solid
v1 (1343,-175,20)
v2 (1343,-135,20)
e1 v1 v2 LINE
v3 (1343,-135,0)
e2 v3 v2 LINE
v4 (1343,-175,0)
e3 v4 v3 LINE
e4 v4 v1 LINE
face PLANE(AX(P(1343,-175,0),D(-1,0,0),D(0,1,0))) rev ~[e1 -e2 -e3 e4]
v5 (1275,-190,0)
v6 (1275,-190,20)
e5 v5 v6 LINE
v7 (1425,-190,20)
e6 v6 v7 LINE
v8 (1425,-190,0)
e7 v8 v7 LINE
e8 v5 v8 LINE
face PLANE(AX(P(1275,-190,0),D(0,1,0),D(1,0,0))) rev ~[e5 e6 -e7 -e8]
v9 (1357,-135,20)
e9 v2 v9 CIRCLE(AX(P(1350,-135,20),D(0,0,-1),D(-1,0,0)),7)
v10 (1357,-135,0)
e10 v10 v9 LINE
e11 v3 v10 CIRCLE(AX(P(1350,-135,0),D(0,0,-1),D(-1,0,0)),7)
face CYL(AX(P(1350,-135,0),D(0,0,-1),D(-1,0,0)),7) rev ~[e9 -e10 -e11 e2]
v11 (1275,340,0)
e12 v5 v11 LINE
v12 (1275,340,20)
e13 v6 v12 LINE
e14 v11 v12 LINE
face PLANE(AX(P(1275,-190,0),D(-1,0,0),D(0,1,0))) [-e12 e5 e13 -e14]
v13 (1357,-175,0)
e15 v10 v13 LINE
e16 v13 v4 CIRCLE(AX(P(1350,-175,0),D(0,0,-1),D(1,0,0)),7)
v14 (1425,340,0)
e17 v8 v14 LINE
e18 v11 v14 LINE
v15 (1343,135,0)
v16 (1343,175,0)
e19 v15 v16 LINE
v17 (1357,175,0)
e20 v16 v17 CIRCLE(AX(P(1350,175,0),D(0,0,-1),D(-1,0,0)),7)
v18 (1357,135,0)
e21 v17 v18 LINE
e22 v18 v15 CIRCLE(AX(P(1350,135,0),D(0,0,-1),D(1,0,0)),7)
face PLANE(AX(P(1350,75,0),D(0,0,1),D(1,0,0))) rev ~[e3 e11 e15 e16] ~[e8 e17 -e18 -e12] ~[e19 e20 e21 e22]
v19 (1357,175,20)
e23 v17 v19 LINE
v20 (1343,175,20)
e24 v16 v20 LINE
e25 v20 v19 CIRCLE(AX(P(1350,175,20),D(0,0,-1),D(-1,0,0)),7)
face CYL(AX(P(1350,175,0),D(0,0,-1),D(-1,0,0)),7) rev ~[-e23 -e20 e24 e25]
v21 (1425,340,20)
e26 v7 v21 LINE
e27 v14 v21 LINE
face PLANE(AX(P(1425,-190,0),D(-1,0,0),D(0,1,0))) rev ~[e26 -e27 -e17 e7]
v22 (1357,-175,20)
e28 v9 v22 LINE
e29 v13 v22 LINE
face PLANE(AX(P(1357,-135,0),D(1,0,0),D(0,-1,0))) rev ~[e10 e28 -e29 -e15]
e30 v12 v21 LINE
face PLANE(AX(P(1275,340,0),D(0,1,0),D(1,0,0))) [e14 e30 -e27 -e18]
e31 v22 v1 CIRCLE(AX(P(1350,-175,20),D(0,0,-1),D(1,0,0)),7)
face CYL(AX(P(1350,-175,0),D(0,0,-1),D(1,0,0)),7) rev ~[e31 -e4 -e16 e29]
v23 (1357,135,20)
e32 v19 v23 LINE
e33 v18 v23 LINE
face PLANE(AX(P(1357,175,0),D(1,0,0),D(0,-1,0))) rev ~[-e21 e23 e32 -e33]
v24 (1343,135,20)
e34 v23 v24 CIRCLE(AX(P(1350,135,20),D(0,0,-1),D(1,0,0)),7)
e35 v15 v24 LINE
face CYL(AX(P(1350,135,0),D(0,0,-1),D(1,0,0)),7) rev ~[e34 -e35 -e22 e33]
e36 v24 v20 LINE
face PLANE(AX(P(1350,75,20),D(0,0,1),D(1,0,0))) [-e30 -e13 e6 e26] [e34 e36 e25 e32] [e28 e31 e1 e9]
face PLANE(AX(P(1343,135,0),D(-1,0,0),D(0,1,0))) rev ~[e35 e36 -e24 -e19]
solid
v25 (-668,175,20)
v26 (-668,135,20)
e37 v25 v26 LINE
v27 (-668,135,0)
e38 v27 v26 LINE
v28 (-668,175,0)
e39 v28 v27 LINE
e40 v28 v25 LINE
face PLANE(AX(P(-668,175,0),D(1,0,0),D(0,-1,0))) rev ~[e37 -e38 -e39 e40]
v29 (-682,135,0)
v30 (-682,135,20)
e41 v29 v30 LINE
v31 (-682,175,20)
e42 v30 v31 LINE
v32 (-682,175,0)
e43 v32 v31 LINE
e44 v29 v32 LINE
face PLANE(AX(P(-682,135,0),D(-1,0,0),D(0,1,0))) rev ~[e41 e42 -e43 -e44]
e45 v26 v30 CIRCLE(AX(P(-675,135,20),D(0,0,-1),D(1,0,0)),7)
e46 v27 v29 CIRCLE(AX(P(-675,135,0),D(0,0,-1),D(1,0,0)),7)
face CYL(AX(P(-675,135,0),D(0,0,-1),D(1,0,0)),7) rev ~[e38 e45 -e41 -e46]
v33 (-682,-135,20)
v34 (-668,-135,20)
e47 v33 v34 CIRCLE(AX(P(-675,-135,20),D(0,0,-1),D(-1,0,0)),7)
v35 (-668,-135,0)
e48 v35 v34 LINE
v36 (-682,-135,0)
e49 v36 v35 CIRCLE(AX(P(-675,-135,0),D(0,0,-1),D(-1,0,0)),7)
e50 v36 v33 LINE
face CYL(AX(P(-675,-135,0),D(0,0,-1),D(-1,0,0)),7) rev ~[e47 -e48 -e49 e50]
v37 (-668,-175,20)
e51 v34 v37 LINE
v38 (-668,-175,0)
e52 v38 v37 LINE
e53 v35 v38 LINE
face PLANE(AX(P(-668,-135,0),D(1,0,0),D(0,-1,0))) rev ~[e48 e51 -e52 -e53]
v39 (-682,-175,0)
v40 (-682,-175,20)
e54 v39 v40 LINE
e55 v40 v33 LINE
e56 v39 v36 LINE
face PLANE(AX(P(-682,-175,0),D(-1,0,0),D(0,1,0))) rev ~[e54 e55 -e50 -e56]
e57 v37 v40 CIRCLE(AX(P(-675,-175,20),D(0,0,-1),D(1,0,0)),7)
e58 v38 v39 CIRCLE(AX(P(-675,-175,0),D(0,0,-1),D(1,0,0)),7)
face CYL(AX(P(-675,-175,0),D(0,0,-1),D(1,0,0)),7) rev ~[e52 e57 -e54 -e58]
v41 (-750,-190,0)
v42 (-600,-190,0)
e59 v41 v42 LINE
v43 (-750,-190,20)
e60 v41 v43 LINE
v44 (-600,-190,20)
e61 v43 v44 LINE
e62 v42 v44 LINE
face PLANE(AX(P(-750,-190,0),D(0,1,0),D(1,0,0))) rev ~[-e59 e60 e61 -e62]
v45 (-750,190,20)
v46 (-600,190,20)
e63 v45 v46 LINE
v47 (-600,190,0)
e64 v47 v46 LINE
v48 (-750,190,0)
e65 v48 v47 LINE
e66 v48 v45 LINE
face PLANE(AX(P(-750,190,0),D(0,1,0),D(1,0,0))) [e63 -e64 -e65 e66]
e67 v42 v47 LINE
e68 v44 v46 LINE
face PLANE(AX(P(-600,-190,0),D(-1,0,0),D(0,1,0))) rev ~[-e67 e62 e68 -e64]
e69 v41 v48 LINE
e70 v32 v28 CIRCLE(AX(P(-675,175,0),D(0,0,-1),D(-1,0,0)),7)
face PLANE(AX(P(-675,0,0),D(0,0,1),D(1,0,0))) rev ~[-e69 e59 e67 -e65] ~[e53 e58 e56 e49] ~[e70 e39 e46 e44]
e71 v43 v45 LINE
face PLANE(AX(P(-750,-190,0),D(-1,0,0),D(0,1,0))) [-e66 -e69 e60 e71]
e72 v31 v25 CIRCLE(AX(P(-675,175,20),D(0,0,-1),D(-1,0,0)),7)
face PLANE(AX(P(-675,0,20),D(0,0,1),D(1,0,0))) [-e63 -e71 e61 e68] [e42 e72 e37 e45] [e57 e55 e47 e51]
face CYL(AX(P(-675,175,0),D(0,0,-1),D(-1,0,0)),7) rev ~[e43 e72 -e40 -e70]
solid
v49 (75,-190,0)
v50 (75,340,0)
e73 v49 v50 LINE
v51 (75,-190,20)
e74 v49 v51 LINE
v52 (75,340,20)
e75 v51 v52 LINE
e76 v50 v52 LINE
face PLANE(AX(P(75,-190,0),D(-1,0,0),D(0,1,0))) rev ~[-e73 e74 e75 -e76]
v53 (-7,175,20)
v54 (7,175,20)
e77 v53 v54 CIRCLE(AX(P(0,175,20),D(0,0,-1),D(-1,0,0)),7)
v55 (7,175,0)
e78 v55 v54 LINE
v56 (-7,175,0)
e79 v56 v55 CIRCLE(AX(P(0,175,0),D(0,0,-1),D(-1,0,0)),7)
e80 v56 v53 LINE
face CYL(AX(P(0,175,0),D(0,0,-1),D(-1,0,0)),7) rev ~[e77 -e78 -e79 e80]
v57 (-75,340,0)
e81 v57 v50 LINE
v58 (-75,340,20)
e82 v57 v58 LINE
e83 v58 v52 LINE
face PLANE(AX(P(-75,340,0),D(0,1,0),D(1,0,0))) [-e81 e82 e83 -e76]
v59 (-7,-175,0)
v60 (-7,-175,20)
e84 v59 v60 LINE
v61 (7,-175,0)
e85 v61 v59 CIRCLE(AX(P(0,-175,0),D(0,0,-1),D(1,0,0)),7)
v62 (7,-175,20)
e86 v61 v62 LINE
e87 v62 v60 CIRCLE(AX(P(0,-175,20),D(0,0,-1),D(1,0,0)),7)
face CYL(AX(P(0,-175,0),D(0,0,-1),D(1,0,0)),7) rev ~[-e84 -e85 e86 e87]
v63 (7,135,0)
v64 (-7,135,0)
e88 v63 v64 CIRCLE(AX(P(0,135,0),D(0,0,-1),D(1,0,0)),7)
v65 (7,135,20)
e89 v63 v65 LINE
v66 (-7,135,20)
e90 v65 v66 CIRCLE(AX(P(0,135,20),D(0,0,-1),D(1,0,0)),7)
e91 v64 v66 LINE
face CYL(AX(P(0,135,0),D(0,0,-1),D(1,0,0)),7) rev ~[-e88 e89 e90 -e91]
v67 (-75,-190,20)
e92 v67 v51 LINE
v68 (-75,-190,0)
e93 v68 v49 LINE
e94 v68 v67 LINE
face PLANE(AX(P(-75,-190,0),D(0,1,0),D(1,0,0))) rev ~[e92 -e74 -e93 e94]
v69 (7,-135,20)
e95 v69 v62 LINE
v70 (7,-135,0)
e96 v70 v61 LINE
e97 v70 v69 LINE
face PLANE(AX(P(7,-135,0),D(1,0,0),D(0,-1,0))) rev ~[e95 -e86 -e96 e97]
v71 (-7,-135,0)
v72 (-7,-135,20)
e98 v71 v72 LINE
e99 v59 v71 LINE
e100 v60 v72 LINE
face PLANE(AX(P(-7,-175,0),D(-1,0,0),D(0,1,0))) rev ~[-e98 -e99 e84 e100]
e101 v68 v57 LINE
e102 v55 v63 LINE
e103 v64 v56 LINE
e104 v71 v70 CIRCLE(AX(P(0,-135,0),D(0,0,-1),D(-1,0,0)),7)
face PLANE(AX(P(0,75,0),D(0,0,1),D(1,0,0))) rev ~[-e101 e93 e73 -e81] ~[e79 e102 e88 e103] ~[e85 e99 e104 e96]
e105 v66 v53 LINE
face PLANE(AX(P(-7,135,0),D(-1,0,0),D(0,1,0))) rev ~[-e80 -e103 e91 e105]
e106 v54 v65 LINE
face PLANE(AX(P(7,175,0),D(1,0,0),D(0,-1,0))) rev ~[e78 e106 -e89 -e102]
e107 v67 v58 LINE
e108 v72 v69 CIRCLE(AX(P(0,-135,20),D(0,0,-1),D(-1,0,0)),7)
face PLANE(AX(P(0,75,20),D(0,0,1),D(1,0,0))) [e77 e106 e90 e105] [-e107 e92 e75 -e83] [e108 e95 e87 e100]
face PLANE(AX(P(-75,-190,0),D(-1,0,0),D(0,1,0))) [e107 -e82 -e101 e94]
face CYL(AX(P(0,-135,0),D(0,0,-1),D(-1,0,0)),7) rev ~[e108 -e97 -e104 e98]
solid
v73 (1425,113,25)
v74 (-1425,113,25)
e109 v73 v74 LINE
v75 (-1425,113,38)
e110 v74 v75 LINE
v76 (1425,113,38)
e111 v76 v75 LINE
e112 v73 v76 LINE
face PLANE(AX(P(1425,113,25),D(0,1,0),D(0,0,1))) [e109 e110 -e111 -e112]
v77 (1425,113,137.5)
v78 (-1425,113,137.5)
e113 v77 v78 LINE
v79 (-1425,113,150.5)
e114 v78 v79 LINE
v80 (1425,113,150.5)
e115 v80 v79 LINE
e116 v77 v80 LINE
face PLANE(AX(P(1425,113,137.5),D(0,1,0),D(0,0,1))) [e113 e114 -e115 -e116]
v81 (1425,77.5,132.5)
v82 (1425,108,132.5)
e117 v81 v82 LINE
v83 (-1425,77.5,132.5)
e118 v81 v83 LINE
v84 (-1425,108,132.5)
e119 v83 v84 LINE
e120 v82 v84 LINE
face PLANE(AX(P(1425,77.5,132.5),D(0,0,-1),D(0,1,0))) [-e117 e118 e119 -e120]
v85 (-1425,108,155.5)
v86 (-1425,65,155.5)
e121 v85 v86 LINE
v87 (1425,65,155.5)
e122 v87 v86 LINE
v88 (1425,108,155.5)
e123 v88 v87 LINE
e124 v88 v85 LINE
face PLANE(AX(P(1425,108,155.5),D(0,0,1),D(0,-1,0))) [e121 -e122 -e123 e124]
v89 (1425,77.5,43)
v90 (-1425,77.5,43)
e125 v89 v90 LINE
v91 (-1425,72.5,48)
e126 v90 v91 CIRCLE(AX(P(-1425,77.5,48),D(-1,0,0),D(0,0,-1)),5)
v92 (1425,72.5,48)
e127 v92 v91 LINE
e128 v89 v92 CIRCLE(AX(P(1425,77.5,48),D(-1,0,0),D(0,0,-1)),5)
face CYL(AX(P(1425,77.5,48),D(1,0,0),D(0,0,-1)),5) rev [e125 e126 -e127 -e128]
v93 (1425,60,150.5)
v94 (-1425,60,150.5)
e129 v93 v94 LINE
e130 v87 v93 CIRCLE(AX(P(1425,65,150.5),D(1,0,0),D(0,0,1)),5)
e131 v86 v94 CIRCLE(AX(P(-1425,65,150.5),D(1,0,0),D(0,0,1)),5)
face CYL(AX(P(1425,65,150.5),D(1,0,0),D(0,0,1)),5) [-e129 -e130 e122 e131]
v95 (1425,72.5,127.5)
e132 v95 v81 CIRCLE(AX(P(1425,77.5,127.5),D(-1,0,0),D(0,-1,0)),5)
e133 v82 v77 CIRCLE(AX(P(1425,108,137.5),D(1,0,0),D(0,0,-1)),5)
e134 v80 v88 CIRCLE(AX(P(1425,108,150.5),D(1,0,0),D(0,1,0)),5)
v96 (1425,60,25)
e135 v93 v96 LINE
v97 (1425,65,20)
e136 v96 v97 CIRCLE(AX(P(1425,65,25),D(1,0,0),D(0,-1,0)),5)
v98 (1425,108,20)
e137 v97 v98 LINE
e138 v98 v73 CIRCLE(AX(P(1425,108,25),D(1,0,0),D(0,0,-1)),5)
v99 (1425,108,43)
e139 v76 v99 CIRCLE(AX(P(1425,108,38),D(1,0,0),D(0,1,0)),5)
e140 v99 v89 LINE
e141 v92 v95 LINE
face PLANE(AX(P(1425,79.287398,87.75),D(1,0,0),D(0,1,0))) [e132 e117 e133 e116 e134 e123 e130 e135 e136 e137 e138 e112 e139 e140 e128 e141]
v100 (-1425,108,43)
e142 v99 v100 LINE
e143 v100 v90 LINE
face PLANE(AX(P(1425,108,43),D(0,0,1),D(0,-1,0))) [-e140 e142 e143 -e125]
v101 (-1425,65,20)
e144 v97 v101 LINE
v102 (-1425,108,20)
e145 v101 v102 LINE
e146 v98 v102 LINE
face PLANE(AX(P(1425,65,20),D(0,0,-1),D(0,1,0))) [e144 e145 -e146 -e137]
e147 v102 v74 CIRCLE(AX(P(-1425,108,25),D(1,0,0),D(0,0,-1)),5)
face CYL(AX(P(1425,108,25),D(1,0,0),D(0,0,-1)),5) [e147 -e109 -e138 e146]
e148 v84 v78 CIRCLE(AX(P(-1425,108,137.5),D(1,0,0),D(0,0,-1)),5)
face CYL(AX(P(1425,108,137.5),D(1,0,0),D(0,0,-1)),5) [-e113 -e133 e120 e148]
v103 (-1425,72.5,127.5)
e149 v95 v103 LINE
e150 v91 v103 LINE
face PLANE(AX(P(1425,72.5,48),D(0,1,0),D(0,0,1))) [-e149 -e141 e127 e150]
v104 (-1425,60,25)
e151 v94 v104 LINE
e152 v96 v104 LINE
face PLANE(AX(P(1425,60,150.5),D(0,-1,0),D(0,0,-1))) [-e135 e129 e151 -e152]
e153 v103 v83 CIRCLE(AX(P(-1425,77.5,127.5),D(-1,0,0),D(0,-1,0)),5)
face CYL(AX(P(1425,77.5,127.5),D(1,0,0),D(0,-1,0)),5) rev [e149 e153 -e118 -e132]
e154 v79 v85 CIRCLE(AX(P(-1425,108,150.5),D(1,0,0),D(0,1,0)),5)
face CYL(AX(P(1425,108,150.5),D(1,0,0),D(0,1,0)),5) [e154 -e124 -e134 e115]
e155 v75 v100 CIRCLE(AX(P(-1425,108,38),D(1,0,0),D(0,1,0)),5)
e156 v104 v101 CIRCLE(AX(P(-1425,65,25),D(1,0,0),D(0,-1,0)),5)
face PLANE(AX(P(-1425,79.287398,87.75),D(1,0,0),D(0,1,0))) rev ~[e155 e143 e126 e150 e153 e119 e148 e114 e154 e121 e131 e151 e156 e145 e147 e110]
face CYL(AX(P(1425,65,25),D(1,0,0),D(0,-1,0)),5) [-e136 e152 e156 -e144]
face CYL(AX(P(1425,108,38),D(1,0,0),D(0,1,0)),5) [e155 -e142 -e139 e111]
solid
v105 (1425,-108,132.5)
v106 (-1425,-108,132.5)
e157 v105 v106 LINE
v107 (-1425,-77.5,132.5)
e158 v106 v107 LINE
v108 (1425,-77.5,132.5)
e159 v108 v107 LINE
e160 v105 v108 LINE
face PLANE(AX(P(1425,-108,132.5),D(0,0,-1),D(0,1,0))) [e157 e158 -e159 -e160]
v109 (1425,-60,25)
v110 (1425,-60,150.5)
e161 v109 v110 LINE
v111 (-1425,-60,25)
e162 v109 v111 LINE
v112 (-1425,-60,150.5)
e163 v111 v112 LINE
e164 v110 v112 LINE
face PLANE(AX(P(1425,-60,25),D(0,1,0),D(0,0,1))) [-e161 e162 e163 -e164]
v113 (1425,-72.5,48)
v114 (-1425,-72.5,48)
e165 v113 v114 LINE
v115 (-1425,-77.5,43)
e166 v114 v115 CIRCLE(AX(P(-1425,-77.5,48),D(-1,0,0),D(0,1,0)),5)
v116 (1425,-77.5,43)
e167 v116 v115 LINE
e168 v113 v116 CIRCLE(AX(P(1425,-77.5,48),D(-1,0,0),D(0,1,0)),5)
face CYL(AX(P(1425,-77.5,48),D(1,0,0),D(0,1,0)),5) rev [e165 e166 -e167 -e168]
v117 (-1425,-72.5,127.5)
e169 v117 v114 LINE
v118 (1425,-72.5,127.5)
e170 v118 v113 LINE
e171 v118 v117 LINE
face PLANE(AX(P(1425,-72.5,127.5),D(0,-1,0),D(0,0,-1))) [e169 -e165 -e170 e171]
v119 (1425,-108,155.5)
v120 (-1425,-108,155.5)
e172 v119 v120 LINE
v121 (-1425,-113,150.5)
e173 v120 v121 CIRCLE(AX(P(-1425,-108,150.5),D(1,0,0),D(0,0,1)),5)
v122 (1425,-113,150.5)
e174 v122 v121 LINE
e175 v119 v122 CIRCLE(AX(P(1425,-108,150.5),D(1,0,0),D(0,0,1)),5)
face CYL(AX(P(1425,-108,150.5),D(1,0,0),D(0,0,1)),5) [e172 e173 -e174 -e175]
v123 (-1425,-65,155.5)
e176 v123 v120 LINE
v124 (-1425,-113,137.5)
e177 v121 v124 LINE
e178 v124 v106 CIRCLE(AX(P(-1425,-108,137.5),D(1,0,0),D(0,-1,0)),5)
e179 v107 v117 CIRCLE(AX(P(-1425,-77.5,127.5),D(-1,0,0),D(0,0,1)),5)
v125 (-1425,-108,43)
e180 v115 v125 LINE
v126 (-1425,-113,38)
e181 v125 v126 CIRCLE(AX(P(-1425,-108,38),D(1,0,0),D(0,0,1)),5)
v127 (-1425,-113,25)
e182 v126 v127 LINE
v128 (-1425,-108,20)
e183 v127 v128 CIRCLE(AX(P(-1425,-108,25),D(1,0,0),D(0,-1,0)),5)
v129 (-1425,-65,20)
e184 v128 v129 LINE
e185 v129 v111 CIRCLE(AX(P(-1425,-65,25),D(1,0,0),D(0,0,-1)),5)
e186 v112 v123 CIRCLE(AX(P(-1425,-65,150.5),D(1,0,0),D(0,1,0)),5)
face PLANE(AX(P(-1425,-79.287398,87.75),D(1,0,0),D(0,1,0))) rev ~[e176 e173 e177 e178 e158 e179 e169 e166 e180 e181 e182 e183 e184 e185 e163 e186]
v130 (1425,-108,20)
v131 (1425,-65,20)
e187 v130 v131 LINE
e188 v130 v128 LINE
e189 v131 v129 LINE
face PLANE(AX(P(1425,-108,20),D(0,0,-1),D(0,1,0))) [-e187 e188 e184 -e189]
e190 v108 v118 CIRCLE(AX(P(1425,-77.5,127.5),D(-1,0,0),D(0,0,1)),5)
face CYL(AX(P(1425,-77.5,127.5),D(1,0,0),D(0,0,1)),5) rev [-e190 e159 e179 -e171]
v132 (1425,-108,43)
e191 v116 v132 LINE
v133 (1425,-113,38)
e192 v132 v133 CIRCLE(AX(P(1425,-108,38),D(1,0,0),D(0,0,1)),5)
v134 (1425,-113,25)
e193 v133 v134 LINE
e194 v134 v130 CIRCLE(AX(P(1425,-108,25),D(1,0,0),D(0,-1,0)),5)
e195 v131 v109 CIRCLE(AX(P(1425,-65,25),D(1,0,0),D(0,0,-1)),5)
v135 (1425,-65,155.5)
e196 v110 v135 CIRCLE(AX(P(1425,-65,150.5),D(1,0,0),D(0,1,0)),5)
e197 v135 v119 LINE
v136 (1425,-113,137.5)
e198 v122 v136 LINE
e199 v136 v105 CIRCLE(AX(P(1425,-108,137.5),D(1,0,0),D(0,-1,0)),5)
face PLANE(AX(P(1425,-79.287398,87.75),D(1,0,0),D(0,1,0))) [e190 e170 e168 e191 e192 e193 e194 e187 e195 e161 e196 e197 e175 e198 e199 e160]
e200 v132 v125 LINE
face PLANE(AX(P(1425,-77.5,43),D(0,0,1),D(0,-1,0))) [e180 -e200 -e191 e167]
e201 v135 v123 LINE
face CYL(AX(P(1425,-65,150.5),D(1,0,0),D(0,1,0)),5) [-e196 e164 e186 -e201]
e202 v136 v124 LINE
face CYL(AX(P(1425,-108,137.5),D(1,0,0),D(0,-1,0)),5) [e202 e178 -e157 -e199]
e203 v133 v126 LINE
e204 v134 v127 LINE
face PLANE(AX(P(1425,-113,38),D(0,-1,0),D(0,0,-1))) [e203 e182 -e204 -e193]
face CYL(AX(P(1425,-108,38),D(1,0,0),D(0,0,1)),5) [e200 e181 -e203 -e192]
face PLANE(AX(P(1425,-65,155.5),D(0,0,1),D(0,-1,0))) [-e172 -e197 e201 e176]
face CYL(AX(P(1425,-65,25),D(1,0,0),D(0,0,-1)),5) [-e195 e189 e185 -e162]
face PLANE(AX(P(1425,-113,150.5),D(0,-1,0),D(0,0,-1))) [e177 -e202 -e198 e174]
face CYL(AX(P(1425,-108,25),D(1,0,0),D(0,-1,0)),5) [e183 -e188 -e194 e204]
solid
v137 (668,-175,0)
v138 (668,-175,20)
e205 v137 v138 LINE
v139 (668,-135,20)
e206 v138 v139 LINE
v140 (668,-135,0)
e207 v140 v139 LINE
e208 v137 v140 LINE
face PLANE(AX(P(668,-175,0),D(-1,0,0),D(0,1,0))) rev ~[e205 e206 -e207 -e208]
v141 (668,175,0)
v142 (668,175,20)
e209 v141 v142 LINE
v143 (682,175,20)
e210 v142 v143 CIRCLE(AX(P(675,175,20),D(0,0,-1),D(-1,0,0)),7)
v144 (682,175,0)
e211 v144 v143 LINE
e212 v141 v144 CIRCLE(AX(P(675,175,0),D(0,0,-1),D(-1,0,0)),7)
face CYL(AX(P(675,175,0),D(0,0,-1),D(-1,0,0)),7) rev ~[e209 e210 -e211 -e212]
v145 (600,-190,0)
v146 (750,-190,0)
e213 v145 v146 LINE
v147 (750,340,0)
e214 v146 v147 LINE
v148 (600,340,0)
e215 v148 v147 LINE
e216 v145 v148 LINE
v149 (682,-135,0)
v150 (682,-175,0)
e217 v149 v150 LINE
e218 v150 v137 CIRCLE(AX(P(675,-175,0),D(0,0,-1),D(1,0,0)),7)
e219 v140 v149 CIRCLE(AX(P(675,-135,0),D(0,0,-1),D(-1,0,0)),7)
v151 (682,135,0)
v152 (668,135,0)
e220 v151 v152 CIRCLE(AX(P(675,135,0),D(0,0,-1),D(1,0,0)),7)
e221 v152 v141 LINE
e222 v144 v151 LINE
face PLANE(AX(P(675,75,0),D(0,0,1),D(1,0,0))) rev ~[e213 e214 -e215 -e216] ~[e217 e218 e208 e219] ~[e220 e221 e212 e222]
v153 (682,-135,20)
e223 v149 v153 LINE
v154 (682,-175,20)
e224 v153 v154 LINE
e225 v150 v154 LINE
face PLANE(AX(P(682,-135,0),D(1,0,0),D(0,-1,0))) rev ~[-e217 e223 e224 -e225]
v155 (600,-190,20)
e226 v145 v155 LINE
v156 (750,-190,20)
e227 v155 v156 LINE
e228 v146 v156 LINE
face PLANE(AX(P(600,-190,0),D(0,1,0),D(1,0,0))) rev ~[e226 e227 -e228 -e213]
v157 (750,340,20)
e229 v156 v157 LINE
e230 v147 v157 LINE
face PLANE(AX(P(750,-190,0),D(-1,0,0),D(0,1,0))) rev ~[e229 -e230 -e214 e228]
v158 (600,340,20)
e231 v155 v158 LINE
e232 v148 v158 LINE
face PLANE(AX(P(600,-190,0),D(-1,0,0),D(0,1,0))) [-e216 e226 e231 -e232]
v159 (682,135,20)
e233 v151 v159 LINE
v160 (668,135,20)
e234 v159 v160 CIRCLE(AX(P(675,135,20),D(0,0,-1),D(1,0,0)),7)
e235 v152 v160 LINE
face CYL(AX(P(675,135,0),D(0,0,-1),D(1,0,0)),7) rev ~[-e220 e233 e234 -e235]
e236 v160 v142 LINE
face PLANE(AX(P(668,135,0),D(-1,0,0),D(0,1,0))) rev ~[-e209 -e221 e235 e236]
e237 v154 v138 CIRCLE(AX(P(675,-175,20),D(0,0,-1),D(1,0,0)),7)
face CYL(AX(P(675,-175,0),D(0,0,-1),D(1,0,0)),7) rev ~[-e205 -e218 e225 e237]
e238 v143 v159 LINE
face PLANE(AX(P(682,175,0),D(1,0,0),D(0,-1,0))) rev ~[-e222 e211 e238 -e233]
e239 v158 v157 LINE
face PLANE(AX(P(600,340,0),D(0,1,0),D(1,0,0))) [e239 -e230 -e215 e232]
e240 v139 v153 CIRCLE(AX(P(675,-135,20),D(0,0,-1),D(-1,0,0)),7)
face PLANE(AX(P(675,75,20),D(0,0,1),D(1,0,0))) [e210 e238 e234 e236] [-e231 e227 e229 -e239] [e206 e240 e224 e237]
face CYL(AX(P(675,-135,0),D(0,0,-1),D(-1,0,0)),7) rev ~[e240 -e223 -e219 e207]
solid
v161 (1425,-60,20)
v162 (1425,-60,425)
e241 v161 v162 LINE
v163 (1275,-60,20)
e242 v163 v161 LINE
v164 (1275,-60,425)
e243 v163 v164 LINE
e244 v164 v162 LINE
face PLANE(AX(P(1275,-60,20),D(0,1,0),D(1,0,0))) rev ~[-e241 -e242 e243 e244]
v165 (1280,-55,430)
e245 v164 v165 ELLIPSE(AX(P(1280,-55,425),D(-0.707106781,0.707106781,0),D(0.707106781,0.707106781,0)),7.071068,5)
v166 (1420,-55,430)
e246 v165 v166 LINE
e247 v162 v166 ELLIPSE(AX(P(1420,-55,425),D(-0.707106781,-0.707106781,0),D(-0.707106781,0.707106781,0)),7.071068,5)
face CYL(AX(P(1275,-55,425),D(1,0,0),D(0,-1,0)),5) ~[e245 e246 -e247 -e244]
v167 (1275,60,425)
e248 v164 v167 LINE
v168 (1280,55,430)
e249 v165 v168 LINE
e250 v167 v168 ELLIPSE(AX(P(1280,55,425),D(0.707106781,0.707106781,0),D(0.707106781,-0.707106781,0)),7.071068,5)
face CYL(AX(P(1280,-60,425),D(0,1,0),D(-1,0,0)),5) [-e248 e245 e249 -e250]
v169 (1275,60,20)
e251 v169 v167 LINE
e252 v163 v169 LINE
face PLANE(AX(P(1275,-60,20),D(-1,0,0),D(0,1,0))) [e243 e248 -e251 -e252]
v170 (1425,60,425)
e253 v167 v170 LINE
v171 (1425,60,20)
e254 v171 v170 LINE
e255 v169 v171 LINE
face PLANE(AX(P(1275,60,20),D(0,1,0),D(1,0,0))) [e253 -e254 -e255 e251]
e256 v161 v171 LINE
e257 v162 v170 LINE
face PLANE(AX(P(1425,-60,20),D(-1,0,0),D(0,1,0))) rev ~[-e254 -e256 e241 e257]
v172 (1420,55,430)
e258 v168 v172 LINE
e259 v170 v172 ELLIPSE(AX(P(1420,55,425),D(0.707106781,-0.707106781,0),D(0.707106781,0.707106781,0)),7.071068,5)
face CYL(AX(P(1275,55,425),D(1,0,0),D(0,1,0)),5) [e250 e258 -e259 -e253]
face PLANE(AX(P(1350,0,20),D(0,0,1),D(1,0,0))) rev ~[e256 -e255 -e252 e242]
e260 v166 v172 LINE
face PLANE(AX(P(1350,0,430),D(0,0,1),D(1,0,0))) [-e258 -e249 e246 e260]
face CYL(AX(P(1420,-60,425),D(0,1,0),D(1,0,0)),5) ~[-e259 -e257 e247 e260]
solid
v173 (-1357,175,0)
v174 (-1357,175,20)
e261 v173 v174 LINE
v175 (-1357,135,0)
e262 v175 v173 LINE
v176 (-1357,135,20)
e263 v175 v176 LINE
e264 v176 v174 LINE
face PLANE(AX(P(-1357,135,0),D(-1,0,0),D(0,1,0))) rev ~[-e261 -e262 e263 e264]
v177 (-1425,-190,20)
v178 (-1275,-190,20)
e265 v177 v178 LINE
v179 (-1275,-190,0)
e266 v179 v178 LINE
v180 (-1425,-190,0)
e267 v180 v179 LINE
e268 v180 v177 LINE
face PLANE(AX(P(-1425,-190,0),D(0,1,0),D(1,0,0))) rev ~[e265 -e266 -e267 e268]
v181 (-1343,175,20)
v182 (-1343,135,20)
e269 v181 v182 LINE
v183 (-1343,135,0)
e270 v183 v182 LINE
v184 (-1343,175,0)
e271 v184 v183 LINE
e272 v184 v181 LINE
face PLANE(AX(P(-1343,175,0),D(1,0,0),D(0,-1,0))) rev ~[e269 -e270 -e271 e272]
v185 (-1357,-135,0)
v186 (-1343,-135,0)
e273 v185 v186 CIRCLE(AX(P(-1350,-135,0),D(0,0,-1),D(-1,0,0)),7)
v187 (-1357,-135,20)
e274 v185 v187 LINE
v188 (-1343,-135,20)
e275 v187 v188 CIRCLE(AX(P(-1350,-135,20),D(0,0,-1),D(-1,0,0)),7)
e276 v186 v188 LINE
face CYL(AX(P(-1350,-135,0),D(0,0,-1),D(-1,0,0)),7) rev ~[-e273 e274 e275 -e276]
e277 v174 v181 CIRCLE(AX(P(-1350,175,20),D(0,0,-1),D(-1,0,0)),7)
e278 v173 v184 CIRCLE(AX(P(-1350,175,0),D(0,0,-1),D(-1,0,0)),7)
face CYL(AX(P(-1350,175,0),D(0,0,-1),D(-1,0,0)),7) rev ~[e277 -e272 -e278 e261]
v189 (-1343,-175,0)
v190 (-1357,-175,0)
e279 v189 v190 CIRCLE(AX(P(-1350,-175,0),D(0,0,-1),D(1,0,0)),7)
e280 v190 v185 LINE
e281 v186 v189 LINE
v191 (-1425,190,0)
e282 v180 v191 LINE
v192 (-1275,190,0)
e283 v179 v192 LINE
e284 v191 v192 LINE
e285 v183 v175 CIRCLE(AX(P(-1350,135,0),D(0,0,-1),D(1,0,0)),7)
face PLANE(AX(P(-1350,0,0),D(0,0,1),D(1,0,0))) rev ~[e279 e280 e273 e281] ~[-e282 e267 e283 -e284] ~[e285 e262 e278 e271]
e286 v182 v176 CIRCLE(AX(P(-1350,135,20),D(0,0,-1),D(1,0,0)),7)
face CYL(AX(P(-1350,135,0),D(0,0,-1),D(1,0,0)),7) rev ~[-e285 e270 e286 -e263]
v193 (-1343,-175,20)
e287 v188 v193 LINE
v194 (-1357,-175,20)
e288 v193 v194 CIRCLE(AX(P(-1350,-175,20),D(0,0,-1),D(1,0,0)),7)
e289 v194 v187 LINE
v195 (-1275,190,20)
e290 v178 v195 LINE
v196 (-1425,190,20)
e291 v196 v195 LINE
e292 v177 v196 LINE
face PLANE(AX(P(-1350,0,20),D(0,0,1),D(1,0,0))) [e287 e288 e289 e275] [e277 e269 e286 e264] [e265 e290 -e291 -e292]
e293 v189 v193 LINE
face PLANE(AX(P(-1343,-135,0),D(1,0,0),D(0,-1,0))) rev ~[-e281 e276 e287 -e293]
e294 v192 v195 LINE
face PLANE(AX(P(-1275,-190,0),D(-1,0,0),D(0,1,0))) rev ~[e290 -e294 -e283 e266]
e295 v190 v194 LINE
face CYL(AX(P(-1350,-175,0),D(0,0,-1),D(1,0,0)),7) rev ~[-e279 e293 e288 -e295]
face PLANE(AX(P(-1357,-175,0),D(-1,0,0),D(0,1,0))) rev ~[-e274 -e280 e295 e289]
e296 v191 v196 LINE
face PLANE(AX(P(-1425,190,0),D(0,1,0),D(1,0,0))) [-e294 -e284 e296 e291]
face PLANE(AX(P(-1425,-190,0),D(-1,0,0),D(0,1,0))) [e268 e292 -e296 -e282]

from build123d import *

# Parameters (mm, degrees)
F0_W     = 150
F0_H     = 380
F1_DEPTH = 20
F0_H_2   = 530
F3_DEPTH = 2850
F4_W     = 150
F4_H     = 120
F5_DEPTH = 410
F6_R     = 5


with BuildPart() as f1:
    # F0 (on Top) → F1 (new body)
    with BuildSketch(Plane.XY):
        with Locations((-1350, 0)):
            Rectangle(F0_W, F0_H)
        with BuildLine():
            ThreePointArc((-1357, -135), (-1350, -128), (-1343, -135))
            Line((-1343, -135), (-1343, -175))
            ThreePointArc((-1343, -175), (-1350, -182), (-1357, -175))
            Line((-1357, -175), (-1357, -135))
        make_face(mode=Mode.SUBTRACT)
        with BuildLine():
            Line((-1357, 135), (-1357, 175))
            ThreePointArc((-1357, 175), (-1350, 182), (-1343, 175))
            Line((-1343, 175), (-1343, 135))
            ThreePointArc((-1343, 135), (-1350, 128), (-1357, 135))
        make_face(mode=Mode.SUBTRACT)
    extrude(amount=F1_DEPTH)


with BuildPart() as f1b:
    # F0 (on Top) → F1, piece 2 (new body)
    with BuildSketch(Plane.XY):
        with Locations((-675, 0)):
            Rectangle(F0_W, F0_H)
        with BuildLine():
            Line((-668, -135), (-668, -175))
            ThreePointArc((-668, -175), (-675, -182), (-682, -175))
            Line((-682, -175), (-682, -135))
            ThreePointArc((-682, -135), (-675, -128), (-668, -135))
        make_face(mode=Mode.SUBTRACT)
        with BuildLine():
            ThreePointArc((-682, 175), (-675, 182), (-668, 175))
            Line((-668, 175), (-668, 135))
            ThreePointArc((-668, 135), (-675, 128), (-682, 135))
            Line((-682, 135), (-682, 175))
        make_face(mode=Mode.SUBTRACT)
    extrude(amount=F1_DEPTH)


with BuildPart() as f1c:
    # F0 (on Top) → F1, piece 3 (new body)
    with BuildSketch(Plane.XY):
        with Locations((0, 75)):
            Rectangle(F0_W, F0_H_2)
        with BuildLine():
            ThreePointArc((7, -175), (0, -182), (-7, -175))
            Line((-7, -175), (-7, -135))
            ThreePointArc((-7, -135), (0, -128), (7, -135))
            Line((7, -135), (7, -175))
        make_face(mode=Mode.SUBTRACT)
        with BuildLine():
            Line((-7, 135), (-7, 175))
            ThreePointArc((-7, 175), (0, 182), (7, 175))
            Line((7, 175), (7, 135))
            ThreePointArc((7, 135), (0, 128), (-7, 135))
        make_face(mode=Mode.SUBTRACT)
    extrude(amount=F1_DEPTH)


with BuildPart() as f1d:
    # F0 (on Top) → F1, piece 4 (new body)
    with BuildSketch(Plane.XY):
        with Locations((675, 75)):
            Rectangle(F0_W, F0_H_2)
        with BuildLine():
            ThreePointArc((682, -175), (675, -182), (668, -175))
            Line((668, -175), (668, -135))
            ThreePointArc((668, -135), (675, -128), (682, -135))
            Line((682, -135), (682, -175))
        make_face(mode=Mode.SUBTRACT)
        with BuildLine():
            ThreePointArc((668, 175), (675, 182), (682, 175))
            Line((682, 175), (682, 135))
            ThreePointArc((682, 135), (675, 128), (668, 135))
            Line((668, 135), (668, 175))
        make_face(mode=Mode.SUBTRACT)
    extrude(amount=F1_DEPTH)


with BuildPart() as f1e:
    # F0 (on Top) → F1, piece 5 (new body)
    with BuildSketch(Plane.XY):
        with Locations((1350, 75)):
            Rectangle(F0_W, F0_H_2)
        with BuildLine():
            ThreePointArc((1357, -175), (1350, -182), (1343, -175))
            Line((1343, -175), (1343, -135))
            ThreePointArc((1343, -135), (1350, -128), (1357, -135))
            Line((1357, -135), (1357, -175))
        make_face(mode=Mode.SUBTRACT)
        with BuildLine():
            ThreePointArc((1343, 175), (1350, 182), (1357, 175))
            Line((1357, 175), (1357, 135))
            ThreePointArc((1357, 135), (1350, 128), (1343, 135))
            Line((1343, 135), (1343, 175))
        make_face(mode=Mode.SUBTRACT)
    extrude(amount=F1_DEPTH)


with BuildPart() as f3:
    # F2 (on face) → F3 (new body)
    with BuildSketch(Plane.YZ.offset(1425)):
        with BuildLine():
            ThreePointArc((-60, 150.5), (-61.4644660941, 154.0355339059), (-65, 155.5))
            Line((-65, 155.5), (-108, 155.5))
            ThreePointArc((-108, 155.5), (-111.5355339059, 154.0355339059), (-113, 150.5))
            Line((-113, 150.5), (-113, 137.5))
            ThreePointArc((-113, 137.5), (-111.5355339059, 133.9644660941), (-108, 132.5))
            Line((-108, 132.5), (-77.5, 132.5))
            ThreePointArc((-77.5, 132.5), (-73.9644660941, 131.0355339059), (-72.5, 127.5))
            Line((-72.5, 127.5), (-72.5, 48))
            ThreePointArc((-72.5, 48), (-73.9644660941, 44.4644660941), (-77.5, 43))
            Line((-77.5, 43), (-108, 43))
            ThreePointArc((-108, 43), (-111.5355339059, 41.5355339059), (-113, 38))
            Line((-113, 38), (-113, 25))
            ThreePointArc((-113, 25), (-111.5355339059, 21.4644660941), (-108, 20))
            Line((-108, 20), (-65, 20))
            ThreePointArc((-65, 20), (-61.4644660941, 21.4644660941), (-60, 25))
            Line((-60, 25), (-60, 150.5))
        make_face()
    extrude(amount=-F3_DEPTH)


with BuildPart() as f3b:
    # F2 (on face) → F3, piece 2 (new body)
    with BuildSketch(Plane.YZ.offset(1425)):
        with BuildLine():
            ThreePointArc((65, 155.5), (61.4644660941, 154.0355339059), (60, 150.5))
            Line((60, 150.5), (60, 25))
            ThreePointArc((60, 25), (61.4644660941, 21.4644660941), (65, 20))
            Line((65, 20), (108, 20))
            ThreePointArc((108, 20), (111.5355339059, 21.4644660941), (113, 25))
            Line((113, 25), (113, 38))
            ThreePointArc((113, 38), (111.5355339059, 41.5355339059), (108, 43))
            Line((108, 43), (77.5, 43))
            ThreePointArc((77.5, 43), (73.9644660941, 44.4644660941), (72.5, 48))
            Line((72.5, 48), (72.5, 127.5))
            ThreePointArc((72.5, 127.5), (73.9644660941, 131.0355339059), (77.5, 132.5))
            Line((77.5, 132.5), (108, 132.5))
            ThreePointArc((108, 132.5), (111.5355339059, 133.9644660941), (113, 137.5))
            Line((113, 137.5), (113, 150.5))
            ThreePointArc((113, 150.5), (111.5355339059, 154.0355339059), (108, 155.5))
            Line((108, 155.5), (65, 155.5))
        make_face()
    extrude(amount=-F3_DEPTH)


with BuildPart() as f5:
    # F4 (on face) → F5 (new body)
    with BuildSketch(Plane.XY.offset(20)):
        with Locations((1350, 0)):
            Rectangle(F4_W, F4_H)
    extrude(amount=F5_DEPTH)

    # F6
    f6_edges = [f5.edges().sort_by_distance(p)[0] for p in [
        (1425, 0, 430),
        (1350, 60, 430),
        (1275, 0, 430),
        (1350, -60, 430),
    ]]
    fillet(f6_edges, radius=F6_R)


solid = Compound([f1.part, f1b.part, f1c.part, f1d.part, f1e.part, f3.part, f3b.part, f5.part])
